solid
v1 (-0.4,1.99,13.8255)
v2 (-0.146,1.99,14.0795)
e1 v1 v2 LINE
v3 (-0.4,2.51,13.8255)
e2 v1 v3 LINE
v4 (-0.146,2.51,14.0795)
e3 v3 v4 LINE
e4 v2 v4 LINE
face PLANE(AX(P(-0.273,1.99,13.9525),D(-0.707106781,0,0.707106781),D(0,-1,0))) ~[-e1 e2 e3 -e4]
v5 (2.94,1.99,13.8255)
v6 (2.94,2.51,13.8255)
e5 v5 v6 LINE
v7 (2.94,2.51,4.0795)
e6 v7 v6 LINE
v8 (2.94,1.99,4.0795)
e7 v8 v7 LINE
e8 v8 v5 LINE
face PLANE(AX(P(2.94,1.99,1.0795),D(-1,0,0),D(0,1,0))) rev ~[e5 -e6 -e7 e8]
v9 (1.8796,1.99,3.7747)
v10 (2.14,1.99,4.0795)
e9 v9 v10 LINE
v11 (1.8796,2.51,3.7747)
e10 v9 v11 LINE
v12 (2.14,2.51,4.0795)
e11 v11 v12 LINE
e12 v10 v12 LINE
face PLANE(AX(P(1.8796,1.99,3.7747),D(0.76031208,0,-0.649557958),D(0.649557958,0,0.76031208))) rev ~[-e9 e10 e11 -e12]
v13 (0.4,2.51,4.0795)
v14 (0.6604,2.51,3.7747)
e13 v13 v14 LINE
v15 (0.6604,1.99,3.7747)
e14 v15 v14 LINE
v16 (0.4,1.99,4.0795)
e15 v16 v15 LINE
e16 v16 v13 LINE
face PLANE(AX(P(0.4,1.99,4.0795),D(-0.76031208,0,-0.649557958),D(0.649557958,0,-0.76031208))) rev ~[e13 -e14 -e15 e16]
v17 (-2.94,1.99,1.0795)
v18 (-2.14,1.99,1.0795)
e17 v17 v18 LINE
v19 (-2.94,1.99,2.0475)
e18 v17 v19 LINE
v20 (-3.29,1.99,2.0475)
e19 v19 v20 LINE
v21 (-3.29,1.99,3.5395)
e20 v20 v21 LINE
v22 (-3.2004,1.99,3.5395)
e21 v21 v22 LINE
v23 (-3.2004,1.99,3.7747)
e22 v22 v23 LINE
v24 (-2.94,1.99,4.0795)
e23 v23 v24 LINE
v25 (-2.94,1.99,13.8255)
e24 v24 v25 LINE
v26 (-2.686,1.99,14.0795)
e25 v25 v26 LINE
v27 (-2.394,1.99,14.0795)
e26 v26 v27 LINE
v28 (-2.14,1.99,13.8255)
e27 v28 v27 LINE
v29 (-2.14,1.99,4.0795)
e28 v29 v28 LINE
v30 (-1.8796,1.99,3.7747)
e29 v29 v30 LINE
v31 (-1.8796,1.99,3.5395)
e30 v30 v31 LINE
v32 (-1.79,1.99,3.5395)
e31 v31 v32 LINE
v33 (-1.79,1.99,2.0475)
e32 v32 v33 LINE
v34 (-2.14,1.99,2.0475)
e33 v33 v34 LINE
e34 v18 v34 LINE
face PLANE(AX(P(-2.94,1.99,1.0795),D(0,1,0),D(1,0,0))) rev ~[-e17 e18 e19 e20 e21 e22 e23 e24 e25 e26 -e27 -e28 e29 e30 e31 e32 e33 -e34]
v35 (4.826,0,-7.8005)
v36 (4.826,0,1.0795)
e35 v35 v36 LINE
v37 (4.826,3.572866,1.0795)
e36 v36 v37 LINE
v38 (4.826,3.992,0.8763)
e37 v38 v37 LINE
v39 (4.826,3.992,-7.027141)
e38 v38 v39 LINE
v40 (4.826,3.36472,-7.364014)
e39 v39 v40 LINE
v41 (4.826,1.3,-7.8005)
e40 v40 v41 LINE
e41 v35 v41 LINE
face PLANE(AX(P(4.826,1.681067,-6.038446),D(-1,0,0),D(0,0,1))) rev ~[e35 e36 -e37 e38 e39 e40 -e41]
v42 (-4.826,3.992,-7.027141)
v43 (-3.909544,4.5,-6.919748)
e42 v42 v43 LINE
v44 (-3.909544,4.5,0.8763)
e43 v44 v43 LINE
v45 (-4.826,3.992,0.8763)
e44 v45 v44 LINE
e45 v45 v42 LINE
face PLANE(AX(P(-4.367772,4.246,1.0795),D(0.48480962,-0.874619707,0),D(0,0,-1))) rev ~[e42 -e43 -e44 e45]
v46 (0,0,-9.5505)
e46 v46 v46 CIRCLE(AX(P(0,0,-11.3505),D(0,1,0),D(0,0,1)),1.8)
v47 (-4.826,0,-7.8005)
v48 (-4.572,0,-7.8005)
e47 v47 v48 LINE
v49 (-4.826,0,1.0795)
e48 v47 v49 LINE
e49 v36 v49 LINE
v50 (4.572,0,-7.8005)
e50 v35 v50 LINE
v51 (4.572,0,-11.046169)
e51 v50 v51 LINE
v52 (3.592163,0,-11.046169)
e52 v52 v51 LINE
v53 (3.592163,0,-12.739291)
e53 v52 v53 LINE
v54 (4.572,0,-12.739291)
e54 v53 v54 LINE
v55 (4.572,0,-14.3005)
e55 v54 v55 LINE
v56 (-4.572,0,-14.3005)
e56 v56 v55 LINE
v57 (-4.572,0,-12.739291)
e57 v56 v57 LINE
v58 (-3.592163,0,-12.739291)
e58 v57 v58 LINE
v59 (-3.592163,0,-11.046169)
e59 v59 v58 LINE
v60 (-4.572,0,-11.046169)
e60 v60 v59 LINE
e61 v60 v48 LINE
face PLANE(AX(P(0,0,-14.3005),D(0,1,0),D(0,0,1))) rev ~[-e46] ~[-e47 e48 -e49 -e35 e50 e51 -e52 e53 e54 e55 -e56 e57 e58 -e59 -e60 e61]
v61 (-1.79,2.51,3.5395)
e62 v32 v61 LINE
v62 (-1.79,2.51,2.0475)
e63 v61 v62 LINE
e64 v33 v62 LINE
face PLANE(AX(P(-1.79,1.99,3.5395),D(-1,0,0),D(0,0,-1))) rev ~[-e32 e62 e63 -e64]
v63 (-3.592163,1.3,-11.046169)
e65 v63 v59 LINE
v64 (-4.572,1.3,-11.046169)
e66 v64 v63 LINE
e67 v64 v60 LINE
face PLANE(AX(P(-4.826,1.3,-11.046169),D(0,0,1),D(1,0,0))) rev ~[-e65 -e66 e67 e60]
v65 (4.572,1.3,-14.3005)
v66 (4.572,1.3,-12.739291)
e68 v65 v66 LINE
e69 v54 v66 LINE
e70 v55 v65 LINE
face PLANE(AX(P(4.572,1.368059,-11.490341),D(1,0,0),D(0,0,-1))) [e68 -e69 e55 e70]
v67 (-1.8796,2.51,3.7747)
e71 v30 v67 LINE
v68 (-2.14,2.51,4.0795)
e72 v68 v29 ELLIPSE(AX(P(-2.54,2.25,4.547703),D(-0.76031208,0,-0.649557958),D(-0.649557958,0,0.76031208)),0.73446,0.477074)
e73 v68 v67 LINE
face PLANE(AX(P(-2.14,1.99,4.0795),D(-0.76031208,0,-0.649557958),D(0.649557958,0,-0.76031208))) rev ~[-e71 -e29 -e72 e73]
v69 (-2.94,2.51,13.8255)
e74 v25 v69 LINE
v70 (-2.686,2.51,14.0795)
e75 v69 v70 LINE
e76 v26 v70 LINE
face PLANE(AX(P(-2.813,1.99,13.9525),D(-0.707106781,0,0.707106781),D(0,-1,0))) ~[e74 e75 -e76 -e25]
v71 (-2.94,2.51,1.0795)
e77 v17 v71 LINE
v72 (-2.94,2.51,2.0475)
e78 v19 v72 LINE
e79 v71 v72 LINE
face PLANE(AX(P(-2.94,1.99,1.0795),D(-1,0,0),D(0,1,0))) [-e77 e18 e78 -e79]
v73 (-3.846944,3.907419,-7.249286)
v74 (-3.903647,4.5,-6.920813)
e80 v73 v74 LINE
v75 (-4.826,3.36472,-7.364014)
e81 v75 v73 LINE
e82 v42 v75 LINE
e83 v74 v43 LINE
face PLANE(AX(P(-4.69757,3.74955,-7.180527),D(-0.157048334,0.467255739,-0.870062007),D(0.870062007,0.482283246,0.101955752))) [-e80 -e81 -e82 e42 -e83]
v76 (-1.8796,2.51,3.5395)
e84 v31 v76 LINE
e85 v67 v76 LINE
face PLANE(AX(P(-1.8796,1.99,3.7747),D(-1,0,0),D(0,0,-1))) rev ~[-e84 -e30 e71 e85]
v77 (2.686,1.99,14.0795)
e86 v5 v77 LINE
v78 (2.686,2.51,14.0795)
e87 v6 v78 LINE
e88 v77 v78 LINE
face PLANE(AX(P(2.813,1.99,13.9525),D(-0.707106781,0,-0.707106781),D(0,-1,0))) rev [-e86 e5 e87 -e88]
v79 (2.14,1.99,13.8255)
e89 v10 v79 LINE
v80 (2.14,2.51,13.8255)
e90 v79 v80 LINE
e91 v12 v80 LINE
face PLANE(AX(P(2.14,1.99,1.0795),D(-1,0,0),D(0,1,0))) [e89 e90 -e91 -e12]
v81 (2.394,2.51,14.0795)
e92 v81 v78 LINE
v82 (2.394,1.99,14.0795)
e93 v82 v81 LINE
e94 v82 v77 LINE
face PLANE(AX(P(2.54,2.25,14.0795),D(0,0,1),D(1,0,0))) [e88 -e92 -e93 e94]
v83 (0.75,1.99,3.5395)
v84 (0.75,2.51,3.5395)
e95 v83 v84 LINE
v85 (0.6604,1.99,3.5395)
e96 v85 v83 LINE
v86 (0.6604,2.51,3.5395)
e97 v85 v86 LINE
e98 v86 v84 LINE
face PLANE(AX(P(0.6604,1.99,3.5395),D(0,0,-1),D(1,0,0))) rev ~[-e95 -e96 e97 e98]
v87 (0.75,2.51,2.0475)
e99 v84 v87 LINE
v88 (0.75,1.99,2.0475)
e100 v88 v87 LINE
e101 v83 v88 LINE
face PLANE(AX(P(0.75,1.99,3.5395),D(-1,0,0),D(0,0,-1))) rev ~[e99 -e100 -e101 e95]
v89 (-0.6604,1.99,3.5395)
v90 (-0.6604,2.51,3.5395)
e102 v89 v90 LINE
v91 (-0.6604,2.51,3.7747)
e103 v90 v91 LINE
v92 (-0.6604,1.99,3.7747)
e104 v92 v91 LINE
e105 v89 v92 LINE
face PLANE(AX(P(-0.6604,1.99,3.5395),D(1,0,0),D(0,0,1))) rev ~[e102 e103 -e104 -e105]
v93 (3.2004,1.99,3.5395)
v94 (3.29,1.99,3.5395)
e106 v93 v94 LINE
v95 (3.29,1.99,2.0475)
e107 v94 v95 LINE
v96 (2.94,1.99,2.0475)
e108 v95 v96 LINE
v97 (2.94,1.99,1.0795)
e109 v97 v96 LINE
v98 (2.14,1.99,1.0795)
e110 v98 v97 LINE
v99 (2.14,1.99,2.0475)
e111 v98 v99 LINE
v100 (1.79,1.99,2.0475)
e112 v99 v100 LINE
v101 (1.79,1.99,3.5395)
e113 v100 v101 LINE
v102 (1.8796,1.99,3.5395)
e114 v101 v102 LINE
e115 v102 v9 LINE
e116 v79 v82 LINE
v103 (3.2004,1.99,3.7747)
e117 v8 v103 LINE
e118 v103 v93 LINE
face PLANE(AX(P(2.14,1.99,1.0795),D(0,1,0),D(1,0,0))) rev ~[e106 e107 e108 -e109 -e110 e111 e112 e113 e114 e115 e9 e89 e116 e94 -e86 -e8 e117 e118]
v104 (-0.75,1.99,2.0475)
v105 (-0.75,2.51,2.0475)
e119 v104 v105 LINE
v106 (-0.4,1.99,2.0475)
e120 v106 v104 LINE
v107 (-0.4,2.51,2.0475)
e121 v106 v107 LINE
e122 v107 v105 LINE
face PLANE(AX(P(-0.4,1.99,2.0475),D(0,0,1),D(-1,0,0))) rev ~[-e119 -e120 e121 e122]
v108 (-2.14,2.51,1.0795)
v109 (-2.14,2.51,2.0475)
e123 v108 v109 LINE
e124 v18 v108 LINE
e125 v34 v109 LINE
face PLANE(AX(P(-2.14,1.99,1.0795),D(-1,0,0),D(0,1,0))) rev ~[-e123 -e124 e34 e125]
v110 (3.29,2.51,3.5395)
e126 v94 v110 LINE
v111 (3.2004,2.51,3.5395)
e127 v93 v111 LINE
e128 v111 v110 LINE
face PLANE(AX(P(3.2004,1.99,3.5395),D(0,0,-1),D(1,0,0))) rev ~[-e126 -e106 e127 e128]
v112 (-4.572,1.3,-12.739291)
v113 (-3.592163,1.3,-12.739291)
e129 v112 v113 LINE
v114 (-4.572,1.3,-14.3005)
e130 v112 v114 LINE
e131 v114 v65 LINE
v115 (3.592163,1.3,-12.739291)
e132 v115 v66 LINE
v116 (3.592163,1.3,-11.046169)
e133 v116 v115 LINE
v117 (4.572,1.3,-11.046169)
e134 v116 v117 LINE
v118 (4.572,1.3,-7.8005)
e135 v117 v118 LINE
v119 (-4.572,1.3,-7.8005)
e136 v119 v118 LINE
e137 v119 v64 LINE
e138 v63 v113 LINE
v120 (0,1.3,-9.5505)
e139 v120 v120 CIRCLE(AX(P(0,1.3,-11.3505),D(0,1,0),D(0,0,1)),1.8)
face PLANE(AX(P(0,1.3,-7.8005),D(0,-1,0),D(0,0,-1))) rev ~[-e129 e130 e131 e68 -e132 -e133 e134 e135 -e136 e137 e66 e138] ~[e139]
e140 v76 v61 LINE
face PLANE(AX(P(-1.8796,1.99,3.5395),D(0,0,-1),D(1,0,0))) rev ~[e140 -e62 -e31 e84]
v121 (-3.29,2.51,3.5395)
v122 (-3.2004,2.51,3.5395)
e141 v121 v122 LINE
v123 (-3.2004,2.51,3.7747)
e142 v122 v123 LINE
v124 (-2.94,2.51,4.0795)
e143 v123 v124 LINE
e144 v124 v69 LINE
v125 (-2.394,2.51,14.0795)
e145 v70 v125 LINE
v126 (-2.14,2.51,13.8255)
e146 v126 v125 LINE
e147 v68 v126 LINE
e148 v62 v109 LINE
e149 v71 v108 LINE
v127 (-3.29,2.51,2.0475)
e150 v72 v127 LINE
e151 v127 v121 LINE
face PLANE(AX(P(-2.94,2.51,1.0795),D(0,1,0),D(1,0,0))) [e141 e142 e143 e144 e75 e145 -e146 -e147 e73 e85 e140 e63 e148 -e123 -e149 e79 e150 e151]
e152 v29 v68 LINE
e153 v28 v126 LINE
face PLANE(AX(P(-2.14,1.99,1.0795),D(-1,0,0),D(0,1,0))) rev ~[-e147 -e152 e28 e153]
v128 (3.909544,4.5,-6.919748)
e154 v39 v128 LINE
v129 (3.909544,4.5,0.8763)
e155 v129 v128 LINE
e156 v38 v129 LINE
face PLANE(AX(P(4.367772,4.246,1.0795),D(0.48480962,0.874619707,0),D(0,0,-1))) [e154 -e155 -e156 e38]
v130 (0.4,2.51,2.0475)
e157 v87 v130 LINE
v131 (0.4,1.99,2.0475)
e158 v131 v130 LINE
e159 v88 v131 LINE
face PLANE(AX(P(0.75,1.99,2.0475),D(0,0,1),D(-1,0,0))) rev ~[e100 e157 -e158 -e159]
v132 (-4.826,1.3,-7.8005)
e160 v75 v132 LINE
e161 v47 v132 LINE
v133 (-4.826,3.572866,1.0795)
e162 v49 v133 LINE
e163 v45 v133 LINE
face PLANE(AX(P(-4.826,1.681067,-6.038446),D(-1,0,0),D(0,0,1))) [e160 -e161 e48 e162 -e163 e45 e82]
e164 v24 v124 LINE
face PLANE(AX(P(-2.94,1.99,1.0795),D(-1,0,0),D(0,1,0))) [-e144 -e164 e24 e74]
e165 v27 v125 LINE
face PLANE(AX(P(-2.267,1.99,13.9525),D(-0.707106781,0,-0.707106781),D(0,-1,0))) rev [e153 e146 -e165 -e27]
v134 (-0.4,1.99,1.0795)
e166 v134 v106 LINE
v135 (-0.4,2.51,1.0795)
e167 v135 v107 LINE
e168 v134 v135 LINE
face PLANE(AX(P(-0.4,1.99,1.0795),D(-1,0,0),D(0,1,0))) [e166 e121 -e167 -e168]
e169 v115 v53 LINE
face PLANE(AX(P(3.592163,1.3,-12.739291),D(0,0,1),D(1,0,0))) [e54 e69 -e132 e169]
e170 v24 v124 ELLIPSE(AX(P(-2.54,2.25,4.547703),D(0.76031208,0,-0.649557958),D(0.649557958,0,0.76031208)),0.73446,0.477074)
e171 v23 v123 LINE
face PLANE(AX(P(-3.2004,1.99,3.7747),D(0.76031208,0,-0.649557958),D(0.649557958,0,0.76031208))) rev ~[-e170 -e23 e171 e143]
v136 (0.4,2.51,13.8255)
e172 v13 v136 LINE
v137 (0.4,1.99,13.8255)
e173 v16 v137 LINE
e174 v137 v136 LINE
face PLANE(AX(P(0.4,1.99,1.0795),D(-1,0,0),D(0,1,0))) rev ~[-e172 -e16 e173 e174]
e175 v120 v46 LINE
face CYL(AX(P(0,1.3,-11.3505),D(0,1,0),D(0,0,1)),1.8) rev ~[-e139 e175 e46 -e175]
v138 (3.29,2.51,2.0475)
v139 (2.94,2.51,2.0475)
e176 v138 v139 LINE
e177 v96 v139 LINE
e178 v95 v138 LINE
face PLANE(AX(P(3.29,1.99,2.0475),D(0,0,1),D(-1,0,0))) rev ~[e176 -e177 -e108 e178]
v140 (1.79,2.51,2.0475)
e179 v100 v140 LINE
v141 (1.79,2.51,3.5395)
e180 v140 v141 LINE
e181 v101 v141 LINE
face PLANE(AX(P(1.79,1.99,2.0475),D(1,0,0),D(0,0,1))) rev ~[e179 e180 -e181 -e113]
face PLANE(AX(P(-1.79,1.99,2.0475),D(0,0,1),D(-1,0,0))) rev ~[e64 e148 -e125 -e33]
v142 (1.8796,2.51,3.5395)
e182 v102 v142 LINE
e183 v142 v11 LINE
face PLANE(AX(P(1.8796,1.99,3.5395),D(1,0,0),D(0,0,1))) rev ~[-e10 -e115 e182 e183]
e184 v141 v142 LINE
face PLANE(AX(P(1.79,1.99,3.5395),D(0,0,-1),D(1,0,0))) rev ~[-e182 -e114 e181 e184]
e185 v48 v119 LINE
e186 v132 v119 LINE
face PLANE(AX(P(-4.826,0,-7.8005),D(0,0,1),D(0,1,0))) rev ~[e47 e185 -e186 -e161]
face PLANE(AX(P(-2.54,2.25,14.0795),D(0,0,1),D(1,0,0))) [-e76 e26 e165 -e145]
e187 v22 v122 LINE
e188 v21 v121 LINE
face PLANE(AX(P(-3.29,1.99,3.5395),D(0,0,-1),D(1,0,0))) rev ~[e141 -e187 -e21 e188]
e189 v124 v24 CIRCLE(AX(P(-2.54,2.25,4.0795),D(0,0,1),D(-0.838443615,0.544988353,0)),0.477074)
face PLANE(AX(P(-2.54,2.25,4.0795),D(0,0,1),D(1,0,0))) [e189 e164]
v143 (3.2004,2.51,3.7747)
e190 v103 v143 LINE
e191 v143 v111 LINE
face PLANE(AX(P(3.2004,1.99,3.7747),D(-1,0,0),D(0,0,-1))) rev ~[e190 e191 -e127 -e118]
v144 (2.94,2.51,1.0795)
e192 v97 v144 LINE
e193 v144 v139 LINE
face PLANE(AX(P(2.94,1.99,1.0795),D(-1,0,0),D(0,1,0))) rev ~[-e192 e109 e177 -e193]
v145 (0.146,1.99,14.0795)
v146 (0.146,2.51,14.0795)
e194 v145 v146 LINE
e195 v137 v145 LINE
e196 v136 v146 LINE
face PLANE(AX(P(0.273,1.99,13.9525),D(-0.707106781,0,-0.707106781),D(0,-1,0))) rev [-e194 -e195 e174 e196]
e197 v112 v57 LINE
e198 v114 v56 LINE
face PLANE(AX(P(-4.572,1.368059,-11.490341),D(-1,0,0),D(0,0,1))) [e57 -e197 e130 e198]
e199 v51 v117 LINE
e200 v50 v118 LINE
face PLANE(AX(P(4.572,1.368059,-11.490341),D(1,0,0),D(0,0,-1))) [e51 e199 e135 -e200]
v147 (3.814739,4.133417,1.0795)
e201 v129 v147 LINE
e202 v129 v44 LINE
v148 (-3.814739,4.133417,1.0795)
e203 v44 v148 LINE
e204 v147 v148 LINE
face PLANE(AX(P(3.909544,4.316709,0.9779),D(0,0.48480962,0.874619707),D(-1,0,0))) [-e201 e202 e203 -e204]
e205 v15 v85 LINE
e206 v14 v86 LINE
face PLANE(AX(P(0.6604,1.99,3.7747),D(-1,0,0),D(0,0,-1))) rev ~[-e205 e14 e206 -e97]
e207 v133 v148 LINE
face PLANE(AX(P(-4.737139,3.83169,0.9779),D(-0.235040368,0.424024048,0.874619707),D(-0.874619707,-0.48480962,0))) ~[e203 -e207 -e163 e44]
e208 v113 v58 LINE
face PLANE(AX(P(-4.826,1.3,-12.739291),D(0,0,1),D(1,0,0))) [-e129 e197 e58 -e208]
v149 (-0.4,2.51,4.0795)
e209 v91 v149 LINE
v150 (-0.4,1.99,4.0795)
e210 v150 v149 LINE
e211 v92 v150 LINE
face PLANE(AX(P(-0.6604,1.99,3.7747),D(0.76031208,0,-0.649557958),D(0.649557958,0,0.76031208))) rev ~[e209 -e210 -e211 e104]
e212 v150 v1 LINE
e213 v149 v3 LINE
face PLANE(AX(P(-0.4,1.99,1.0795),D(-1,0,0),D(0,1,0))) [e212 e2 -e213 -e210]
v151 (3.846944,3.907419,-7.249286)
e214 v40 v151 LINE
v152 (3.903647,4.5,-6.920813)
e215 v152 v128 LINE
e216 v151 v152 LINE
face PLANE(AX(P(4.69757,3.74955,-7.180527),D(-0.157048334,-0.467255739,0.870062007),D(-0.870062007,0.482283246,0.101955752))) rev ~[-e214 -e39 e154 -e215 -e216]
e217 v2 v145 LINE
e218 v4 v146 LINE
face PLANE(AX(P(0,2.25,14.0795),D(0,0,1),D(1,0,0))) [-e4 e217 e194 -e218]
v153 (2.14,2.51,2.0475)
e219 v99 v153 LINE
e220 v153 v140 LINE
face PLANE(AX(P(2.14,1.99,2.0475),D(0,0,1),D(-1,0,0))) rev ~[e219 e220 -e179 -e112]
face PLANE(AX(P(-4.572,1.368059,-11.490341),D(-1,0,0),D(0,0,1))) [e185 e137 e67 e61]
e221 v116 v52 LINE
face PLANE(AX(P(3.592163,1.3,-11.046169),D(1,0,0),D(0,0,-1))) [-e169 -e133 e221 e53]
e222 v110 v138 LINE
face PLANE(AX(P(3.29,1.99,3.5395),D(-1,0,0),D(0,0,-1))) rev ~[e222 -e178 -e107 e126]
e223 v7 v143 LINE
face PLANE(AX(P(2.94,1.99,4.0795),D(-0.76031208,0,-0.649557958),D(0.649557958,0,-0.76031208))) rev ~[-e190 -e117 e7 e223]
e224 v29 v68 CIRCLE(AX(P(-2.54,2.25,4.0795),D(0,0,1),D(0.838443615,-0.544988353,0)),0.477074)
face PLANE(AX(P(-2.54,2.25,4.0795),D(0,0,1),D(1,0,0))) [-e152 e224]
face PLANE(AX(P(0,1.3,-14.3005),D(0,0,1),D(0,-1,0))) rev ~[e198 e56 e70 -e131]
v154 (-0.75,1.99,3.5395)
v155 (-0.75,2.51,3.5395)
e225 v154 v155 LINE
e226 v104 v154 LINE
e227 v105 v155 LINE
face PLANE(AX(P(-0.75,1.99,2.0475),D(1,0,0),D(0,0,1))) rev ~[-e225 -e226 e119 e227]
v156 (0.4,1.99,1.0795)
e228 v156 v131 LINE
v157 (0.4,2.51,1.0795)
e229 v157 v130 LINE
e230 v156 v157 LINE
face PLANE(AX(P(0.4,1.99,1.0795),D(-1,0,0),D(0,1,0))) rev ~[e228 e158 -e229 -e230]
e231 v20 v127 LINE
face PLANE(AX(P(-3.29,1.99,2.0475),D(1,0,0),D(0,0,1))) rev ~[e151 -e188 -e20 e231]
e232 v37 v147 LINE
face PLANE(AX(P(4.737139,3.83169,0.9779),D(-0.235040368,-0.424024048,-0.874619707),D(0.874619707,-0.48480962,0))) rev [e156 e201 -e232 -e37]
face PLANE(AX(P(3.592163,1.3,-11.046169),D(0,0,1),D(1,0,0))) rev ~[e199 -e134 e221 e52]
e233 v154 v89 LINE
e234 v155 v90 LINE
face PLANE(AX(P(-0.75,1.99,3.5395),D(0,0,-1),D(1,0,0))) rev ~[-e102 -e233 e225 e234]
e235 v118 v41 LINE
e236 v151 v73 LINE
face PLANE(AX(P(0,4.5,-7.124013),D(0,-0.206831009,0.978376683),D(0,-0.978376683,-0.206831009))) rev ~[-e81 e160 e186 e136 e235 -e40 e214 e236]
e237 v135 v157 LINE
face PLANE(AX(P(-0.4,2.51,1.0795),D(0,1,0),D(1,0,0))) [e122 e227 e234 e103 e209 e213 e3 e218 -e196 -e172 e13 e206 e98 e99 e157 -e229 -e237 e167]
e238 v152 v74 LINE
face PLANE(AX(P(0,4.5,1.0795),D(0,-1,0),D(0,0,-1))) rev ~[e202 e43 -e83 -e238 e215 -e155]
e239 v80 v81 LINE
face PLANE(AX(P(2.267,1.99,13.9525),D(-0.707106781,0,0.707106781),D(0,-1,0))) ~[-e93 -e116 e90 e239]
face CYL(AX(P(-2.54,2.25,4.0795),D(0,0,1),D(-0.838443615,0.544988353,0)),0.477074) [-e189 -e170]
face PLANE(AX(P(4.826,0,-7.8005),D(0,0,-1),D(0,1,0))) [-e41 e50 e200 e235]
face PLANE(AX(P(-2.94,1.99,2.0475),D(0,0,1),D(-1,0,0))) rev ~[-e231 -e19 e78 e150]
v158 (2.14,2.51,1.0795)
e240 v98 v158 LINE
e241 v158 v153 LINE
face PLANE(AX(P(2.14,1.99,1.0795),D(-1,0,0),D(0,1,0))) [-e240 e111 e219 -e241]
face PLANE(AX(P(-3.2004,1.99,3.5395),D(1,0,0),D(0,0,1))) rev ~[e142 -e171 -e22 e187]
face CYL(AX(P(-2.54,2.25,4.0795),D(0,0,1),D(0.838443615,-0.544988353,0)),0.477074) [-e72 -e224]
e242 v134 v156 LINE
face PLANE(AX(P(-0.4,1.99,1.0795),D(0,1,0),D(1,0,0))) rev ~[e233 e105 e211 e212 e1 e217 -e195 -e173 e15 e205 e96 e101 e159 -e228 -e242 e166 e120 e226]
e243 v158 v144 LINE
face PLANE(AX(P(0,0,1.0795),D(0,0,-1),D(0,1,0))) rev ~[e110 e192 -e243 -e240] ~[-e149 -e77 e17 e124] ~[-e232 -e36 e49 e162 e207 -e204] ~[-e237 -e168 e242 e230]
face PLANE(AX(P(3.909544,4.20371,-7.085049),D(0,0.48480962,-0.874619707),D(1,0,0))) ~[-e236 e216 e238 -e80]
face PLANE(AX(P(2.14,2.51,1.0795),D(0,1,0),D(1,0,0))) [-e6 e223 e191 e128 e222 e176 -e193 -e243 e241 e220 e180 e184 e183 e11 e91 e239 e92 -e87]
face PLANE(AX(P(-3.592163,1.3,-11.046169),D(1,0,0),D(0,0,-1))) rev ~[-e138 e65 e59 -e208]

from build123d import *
from OCP.BRepFilletAPI import BRepFilletAPI_MakeChamfer

# Parameters (mm, degrees)
EXTRUDE1_DEPTH      = 4.826
EXTRUDE1_DEPTH_BACK = 4.826
SKETCH10_R          = 1.8
SKETCH10_W          = 1.233836604
SKETCH10_H          = 1.6931216
EXTRUDE5_DEPTH      = 16.428369203
SKETCH6_W           = 0.8
SKETCH6_H           = 0.52
EXTRUDE6_DEPTH      = 13
EXTRUDE7_START      = -0.52
EXTRUDE7_DEPTH      = 0.52
CHAMFER1_SIZE       = 0.254
SKETCH12_W          = 7.379682426
SKETCH12_H          = 2.736118788
EXTRUDE8_DEPTH      = 0.254
SKETCH13_W          = 7.379682426
SKETCH13_H          = 2.736118788
EXTRUDE9_DEPTH      = 0.254
CHAMFER2_SIZE       = 0.508
CHAMFER2_SIZE2      = 0.91645626
CHAMFER3_SIZE       = 0.2032
CHAMFER3_SIZE2      = 0.366582504
CHAMFER3_SIZE2_2    = 0.605677555
CHAMFER3_SIZE2_3    = 0.557834937
EXTRUDE10_DEPTH     = 1.016


with BuildPart() as part:
    # Sketch2 → Extrude1 (new, two sides)
    with BuildSketch(Plane(origin=(0, 0, 0), x_dir=(0, 0, -1), z_dir=(1, 0, 0))) as extrude1_sk:
        Polygon((14.3005, 0), (-1.0795, 0), (-1.0795, 4.5), (7.124012877, 4.5), (7.8005, 1.3), (14.3005, 1.3), align=None)
    extrude(amount=EXTRUDE1_DEPTH)
    extrude(extrude1_sk.sketch, amount=-EXTRUDE1_DEPTH_BACK)

    # Sketch10 → Extrude5 (cut, through all)
    with BuildSketch(Plane(origin=(0, 1.3, 0), x_dir=(1, 0, 0), z_dir=(0, 1, 0))):
        with Locations(Location((0, 11.3505, 0), (0, 0, 270))):
            Circle(SKETCH10_R)
        with Locations((-4.209081698, 11.892729701)):
            Rectangle(SKETCH10_W, SKETCH10_H)
        with Locations((4.209081698, 11.892729701)):
            Rectangle(SKETCH10_W, SKETCH10_H)
    extrude(amount=-EXTRUDE5_DEPTH, mode=Mode.SUBTRACT)

    # Sketch6 → Extrude6 (add)
    with BuildSketch(Plane.XY.offset(1.0795)):
        with Locations((2.54, 2.25)):
            Rectangle(SKETCH6_W, SKETCH6_H)
        with Locations((-2.54, 2.25)):
            Rectangle(SKETCH6_W, SKETCH6_H)
        with Locations((0, 2.25)):
            Rectangle(SKETCH6_W, SKETCH6_H)
    extrude(amount=EXTRUDE6_DEPTH)

    # Sketch11 → Extrude7 (add)
    with BuildSketch(Plane(origin=(0, 2.51, 0), x_dir=(1, 0, 0), z_dir=(0, 1, 0)).offset(EXTRUDE7_START)):
        Polygon((-2.94, -2.0475), (-3.29, -2.0475), (-3.29, -3.5395), (-3.2004, -3.5395), (-3.2004, -3.7747), (-2.94, -4.0795), align=None)
        Polygon((-1.79, -2.0475), (-2.14, -2.0475), (-2.14, -4.0795), (-1.8796, -3.7747), (-1.8796, -3.5395), (-1.79, -3.5395), align=None)
        Polygon((-0.4, -2.0475), (-0.75, -2.0475), (-0.75, -3.5395), (-0.6604, -3.5395), (-0.6604, -3.7747), (-0.4, -4.0795), align=None)
        Polygon((0.75, -2.0475), (0.4, -2.0475), (0.4, -4.0795), (0.6604, -3.7747), (0.6604, -3.5395), (0.75, -3.5395), align=None)
        Polygon((2.14, -2.0475), (1.79, -2.0475), (1.79, -3.5395), (1.8796, -3.5395), (1.8796, -3.7747), (2.14, -4.0795), align=None)
        Polygon((3.29, -2.0475), (2.94, -2.0475), (2.94, -4.0795), (3.2004, -3.7747), (3.2004, -3.5395), (3.29, -3.5395), align=None)
    extrude(amount=EXTRUDE7_DEPTH)

    # Chamfer1
    chamfer1_edges = [part.edges().sort_by_distance(p)[0] for p in [
        (-2.14, 2.25, 14.0795),
        (-2.94, 2.25, 14.0795),
        (2.94, 2.25, 14.0795),
        (2.14, 2.25, 14.0795),
        (0.4, 2.25, 14.0795),
        (-0.4, 2.25, 14.0795),
    ]]
    chamfer(chamfer1_edges, length=CHAMFER1_SIZE)

    # Sketch12 → Extrude8 (cut)
    with BuildSketch(Plane.ZY.offset(4.826)):
        with Locations((-11.490341213, 1.368059394)):
            Rectangle(SKETCH12_W, SKETCH12_H)
    extrude(amount=-EXTRUDE8_DEPTH, mode=Mode.SUBTRACT)

    # Sketch13 → Extrude9 (cut)
    with BuildSketch(Plane(origin=(4.826, 0, 0), x_dir=(0, 0, -1), z_dir=(1, 0, 0))):
        with Locations((11.490341213, 1.368059394)):
            Rectangle(SKETCH13_W, SKETCH13_H)
    extrude(amount=-EXTRUDE9_DEPTH, mode=Mode.SUBTRACT)

    # Chamfer2: one chamfer whose edges measure the first distance from different faces: ONE call of the kernel's chamfer builder (chamfer() names one face for all edges)
    chamfer2_edges_1 = [part.edges().sort_by_distance(p)[0] for p in [
        (-4.826, 4.5, -3.022256439),
    ]]
    chamfer2_side_1 = [part.faces().sort_by_distance(p)[0] for p in [
        (-4.826, 2.217055195, -3.243165334),
    ]]
    chamfer2_edges_2 = [part.edges().sort_by_distance(p)[0] for p in [
        (4.826, 4.5, -3.022256439),
    ]]
    chamfer2_side_2 = [part.faces().sort_by_distance(p)[0] for p in [
        (4.826, 2.217055195, -3.243165334),
    ]]
    chamfer2 = BRepFilletAPI_MakeChamfer(part.part.solid().wrapped)
    for e in chamfer2_edges_1:
        chamfer2.Add(CHAMFER2_SIZE, CHAMFER2_SIZE2, e.wrapped, chamfer2_side_1[0].wrapped)  # the first distance lies on this face
    for e in chamfer2_edges_2:
        chamfer2.Add(CHAMFER2_SIZE, CHAMFER2_SIZE2, e.wrapped, chamfer2_side_2[0].wrapped)  # the first distance lies on this face
    add(Compound.cast(chamfer2.Shape()), mode=Mode.REPLACE)

    # Chamfer3: one chamfer whose edges measure the first distance from different faces: ONE call of the kernel's chamfer builder (chamfer() names one face for all edges)
    chamfer3_edges_1 = [part.edges().sort_by_distance(p)[0] for p in [
        (0, 4.5, 1.0795),
    ]]
    chamfer3_side_1 = [part.faces().sort_by_distance(p)[0] for p in [
        (0, 4.5, -3.022256439),
    ]]
    chamfer3_edges_2 = [part.edges().sort_by_distance(p)[0] for p in [
        (-4.36777187, 4.246, 1.0795),
    ]]
    chamfer3_side_2 = [part.faces().sort_by_distance(p)[0] for p in [
        (-4.368765147, 4.245449417, -3.049162718),
    ]]
    chamfer3_edges_3 = [part.edges().sort_by_distance(p)[0] for p in [
        (4.36777187, 4.246, 1.0795),
    ]]
    chamfer3_side_3 = [part.faces().sort_by_distance(p)[0] for p in [
        (4.368765147, 4.245449417, -3.049162718),
    ]]
    chamfer3_edges_4 = [part.edges().sort_by_distance(p)[0] for p in [
        (0, 4.5, -7.124012877),
    ]]
    chamfer3_side_4 = [part.faces().sort_by_distance(p)[0] for p in [
        (0, 4.5, -3.022256439),
    ]]
    chamfer3_edges_5 = [part.edges().sort_by_distance(p)[0] for p in [
        (-4.36777187, 4.246, -7.177709043),
    ]]
    chamfer3_side_5 = [part.faces().sort_by_distance(p)[0] for p in [
        (-4.368765147, 4.245449417, -3.049162718),
    ]]
    chamfer3_edges_6 = [part.edges().sort_by_distance(p)[0] for p in [
        (4.36777187, 4.246, -7.177709043),
    ]]
    chamfer3_side_6 = [part.faces().sort_by_distance(p)[0] for p in [
        (4.368765147, 4.245449417, -3.049162718),
    ]]
    chamfer3 = BRepFilletAPI_MakeChamfer(part.part.solid().wrapped)
    for e in chamfer3_edges_1:
        chamfer3.Add(CHAMFER3_SIZE, CHAMFER3_SIZE2, e.wrapped, chamfer3_side_1[0].wrapped)  # the first distance lies on this face
    for e in chamfer3_edges_2:
        chamfer3.Add(CHAMFER3_SIZE, CHAMFER3_SIZE2, e.wrapped, chamfer3_side_2[0].wrapped)  # the first distance lies on this face
    for e in chamfer3_edges_3:
        chamfer3.Add(CHAMFER3_SIZE, CHAMFER3_SIZE2, e.wrapped, chamfer3_side_3[0].wrapped)  # the first distance lies on this face
    for e in chamfer3_edges_4:
        chamfer3.Add(CHAMFER3_SIZE, CHAMFER3_SIZE2_2, e.wrapped, chamfer3_side_4[0].wrapped)  # the first distance lies on this face
    for e in chamfer3_edges_5:
        chamfer3.Add(CHAMFER3_SIZE, CHAMFER3_SIZE2_3, e.wrapped, chamfer3_side_5[0].wrapped)  # the first distance lies on this face
    for e in chamfer3_edges_6:
        chamfer3.Add(CHAMFER3_SIZE, CHAMFER3_SIZE2_3, e.wrapped, chamfer3_side_6[0].wrapped)  # the first distance lies on this face
    add(Compound.cast(chamfer3.Shape()), mode=Mode.REPLACE)

    # Sketch15 → Extrude10 (add)
    with BuildSketch(Plane.XY.offset(4.0795)):
        with BuildLine():
            Line((-2.14, 2.51), (-2.94, 2.51))
            ThreePointArc((-2.94, 2.51), (-3.017074418, 2.25), (-2.94, 1.99))
            Line((-2.94, 1.99), (-2.14, 1.99))
            ThreePointArc((-2.14, 1.99), (-2.062925582, 2.25), (-2.14, 2.51))
        make_face()
    extrude(amount=-EXTRUDE10_DEPTH)


solid = part.part
